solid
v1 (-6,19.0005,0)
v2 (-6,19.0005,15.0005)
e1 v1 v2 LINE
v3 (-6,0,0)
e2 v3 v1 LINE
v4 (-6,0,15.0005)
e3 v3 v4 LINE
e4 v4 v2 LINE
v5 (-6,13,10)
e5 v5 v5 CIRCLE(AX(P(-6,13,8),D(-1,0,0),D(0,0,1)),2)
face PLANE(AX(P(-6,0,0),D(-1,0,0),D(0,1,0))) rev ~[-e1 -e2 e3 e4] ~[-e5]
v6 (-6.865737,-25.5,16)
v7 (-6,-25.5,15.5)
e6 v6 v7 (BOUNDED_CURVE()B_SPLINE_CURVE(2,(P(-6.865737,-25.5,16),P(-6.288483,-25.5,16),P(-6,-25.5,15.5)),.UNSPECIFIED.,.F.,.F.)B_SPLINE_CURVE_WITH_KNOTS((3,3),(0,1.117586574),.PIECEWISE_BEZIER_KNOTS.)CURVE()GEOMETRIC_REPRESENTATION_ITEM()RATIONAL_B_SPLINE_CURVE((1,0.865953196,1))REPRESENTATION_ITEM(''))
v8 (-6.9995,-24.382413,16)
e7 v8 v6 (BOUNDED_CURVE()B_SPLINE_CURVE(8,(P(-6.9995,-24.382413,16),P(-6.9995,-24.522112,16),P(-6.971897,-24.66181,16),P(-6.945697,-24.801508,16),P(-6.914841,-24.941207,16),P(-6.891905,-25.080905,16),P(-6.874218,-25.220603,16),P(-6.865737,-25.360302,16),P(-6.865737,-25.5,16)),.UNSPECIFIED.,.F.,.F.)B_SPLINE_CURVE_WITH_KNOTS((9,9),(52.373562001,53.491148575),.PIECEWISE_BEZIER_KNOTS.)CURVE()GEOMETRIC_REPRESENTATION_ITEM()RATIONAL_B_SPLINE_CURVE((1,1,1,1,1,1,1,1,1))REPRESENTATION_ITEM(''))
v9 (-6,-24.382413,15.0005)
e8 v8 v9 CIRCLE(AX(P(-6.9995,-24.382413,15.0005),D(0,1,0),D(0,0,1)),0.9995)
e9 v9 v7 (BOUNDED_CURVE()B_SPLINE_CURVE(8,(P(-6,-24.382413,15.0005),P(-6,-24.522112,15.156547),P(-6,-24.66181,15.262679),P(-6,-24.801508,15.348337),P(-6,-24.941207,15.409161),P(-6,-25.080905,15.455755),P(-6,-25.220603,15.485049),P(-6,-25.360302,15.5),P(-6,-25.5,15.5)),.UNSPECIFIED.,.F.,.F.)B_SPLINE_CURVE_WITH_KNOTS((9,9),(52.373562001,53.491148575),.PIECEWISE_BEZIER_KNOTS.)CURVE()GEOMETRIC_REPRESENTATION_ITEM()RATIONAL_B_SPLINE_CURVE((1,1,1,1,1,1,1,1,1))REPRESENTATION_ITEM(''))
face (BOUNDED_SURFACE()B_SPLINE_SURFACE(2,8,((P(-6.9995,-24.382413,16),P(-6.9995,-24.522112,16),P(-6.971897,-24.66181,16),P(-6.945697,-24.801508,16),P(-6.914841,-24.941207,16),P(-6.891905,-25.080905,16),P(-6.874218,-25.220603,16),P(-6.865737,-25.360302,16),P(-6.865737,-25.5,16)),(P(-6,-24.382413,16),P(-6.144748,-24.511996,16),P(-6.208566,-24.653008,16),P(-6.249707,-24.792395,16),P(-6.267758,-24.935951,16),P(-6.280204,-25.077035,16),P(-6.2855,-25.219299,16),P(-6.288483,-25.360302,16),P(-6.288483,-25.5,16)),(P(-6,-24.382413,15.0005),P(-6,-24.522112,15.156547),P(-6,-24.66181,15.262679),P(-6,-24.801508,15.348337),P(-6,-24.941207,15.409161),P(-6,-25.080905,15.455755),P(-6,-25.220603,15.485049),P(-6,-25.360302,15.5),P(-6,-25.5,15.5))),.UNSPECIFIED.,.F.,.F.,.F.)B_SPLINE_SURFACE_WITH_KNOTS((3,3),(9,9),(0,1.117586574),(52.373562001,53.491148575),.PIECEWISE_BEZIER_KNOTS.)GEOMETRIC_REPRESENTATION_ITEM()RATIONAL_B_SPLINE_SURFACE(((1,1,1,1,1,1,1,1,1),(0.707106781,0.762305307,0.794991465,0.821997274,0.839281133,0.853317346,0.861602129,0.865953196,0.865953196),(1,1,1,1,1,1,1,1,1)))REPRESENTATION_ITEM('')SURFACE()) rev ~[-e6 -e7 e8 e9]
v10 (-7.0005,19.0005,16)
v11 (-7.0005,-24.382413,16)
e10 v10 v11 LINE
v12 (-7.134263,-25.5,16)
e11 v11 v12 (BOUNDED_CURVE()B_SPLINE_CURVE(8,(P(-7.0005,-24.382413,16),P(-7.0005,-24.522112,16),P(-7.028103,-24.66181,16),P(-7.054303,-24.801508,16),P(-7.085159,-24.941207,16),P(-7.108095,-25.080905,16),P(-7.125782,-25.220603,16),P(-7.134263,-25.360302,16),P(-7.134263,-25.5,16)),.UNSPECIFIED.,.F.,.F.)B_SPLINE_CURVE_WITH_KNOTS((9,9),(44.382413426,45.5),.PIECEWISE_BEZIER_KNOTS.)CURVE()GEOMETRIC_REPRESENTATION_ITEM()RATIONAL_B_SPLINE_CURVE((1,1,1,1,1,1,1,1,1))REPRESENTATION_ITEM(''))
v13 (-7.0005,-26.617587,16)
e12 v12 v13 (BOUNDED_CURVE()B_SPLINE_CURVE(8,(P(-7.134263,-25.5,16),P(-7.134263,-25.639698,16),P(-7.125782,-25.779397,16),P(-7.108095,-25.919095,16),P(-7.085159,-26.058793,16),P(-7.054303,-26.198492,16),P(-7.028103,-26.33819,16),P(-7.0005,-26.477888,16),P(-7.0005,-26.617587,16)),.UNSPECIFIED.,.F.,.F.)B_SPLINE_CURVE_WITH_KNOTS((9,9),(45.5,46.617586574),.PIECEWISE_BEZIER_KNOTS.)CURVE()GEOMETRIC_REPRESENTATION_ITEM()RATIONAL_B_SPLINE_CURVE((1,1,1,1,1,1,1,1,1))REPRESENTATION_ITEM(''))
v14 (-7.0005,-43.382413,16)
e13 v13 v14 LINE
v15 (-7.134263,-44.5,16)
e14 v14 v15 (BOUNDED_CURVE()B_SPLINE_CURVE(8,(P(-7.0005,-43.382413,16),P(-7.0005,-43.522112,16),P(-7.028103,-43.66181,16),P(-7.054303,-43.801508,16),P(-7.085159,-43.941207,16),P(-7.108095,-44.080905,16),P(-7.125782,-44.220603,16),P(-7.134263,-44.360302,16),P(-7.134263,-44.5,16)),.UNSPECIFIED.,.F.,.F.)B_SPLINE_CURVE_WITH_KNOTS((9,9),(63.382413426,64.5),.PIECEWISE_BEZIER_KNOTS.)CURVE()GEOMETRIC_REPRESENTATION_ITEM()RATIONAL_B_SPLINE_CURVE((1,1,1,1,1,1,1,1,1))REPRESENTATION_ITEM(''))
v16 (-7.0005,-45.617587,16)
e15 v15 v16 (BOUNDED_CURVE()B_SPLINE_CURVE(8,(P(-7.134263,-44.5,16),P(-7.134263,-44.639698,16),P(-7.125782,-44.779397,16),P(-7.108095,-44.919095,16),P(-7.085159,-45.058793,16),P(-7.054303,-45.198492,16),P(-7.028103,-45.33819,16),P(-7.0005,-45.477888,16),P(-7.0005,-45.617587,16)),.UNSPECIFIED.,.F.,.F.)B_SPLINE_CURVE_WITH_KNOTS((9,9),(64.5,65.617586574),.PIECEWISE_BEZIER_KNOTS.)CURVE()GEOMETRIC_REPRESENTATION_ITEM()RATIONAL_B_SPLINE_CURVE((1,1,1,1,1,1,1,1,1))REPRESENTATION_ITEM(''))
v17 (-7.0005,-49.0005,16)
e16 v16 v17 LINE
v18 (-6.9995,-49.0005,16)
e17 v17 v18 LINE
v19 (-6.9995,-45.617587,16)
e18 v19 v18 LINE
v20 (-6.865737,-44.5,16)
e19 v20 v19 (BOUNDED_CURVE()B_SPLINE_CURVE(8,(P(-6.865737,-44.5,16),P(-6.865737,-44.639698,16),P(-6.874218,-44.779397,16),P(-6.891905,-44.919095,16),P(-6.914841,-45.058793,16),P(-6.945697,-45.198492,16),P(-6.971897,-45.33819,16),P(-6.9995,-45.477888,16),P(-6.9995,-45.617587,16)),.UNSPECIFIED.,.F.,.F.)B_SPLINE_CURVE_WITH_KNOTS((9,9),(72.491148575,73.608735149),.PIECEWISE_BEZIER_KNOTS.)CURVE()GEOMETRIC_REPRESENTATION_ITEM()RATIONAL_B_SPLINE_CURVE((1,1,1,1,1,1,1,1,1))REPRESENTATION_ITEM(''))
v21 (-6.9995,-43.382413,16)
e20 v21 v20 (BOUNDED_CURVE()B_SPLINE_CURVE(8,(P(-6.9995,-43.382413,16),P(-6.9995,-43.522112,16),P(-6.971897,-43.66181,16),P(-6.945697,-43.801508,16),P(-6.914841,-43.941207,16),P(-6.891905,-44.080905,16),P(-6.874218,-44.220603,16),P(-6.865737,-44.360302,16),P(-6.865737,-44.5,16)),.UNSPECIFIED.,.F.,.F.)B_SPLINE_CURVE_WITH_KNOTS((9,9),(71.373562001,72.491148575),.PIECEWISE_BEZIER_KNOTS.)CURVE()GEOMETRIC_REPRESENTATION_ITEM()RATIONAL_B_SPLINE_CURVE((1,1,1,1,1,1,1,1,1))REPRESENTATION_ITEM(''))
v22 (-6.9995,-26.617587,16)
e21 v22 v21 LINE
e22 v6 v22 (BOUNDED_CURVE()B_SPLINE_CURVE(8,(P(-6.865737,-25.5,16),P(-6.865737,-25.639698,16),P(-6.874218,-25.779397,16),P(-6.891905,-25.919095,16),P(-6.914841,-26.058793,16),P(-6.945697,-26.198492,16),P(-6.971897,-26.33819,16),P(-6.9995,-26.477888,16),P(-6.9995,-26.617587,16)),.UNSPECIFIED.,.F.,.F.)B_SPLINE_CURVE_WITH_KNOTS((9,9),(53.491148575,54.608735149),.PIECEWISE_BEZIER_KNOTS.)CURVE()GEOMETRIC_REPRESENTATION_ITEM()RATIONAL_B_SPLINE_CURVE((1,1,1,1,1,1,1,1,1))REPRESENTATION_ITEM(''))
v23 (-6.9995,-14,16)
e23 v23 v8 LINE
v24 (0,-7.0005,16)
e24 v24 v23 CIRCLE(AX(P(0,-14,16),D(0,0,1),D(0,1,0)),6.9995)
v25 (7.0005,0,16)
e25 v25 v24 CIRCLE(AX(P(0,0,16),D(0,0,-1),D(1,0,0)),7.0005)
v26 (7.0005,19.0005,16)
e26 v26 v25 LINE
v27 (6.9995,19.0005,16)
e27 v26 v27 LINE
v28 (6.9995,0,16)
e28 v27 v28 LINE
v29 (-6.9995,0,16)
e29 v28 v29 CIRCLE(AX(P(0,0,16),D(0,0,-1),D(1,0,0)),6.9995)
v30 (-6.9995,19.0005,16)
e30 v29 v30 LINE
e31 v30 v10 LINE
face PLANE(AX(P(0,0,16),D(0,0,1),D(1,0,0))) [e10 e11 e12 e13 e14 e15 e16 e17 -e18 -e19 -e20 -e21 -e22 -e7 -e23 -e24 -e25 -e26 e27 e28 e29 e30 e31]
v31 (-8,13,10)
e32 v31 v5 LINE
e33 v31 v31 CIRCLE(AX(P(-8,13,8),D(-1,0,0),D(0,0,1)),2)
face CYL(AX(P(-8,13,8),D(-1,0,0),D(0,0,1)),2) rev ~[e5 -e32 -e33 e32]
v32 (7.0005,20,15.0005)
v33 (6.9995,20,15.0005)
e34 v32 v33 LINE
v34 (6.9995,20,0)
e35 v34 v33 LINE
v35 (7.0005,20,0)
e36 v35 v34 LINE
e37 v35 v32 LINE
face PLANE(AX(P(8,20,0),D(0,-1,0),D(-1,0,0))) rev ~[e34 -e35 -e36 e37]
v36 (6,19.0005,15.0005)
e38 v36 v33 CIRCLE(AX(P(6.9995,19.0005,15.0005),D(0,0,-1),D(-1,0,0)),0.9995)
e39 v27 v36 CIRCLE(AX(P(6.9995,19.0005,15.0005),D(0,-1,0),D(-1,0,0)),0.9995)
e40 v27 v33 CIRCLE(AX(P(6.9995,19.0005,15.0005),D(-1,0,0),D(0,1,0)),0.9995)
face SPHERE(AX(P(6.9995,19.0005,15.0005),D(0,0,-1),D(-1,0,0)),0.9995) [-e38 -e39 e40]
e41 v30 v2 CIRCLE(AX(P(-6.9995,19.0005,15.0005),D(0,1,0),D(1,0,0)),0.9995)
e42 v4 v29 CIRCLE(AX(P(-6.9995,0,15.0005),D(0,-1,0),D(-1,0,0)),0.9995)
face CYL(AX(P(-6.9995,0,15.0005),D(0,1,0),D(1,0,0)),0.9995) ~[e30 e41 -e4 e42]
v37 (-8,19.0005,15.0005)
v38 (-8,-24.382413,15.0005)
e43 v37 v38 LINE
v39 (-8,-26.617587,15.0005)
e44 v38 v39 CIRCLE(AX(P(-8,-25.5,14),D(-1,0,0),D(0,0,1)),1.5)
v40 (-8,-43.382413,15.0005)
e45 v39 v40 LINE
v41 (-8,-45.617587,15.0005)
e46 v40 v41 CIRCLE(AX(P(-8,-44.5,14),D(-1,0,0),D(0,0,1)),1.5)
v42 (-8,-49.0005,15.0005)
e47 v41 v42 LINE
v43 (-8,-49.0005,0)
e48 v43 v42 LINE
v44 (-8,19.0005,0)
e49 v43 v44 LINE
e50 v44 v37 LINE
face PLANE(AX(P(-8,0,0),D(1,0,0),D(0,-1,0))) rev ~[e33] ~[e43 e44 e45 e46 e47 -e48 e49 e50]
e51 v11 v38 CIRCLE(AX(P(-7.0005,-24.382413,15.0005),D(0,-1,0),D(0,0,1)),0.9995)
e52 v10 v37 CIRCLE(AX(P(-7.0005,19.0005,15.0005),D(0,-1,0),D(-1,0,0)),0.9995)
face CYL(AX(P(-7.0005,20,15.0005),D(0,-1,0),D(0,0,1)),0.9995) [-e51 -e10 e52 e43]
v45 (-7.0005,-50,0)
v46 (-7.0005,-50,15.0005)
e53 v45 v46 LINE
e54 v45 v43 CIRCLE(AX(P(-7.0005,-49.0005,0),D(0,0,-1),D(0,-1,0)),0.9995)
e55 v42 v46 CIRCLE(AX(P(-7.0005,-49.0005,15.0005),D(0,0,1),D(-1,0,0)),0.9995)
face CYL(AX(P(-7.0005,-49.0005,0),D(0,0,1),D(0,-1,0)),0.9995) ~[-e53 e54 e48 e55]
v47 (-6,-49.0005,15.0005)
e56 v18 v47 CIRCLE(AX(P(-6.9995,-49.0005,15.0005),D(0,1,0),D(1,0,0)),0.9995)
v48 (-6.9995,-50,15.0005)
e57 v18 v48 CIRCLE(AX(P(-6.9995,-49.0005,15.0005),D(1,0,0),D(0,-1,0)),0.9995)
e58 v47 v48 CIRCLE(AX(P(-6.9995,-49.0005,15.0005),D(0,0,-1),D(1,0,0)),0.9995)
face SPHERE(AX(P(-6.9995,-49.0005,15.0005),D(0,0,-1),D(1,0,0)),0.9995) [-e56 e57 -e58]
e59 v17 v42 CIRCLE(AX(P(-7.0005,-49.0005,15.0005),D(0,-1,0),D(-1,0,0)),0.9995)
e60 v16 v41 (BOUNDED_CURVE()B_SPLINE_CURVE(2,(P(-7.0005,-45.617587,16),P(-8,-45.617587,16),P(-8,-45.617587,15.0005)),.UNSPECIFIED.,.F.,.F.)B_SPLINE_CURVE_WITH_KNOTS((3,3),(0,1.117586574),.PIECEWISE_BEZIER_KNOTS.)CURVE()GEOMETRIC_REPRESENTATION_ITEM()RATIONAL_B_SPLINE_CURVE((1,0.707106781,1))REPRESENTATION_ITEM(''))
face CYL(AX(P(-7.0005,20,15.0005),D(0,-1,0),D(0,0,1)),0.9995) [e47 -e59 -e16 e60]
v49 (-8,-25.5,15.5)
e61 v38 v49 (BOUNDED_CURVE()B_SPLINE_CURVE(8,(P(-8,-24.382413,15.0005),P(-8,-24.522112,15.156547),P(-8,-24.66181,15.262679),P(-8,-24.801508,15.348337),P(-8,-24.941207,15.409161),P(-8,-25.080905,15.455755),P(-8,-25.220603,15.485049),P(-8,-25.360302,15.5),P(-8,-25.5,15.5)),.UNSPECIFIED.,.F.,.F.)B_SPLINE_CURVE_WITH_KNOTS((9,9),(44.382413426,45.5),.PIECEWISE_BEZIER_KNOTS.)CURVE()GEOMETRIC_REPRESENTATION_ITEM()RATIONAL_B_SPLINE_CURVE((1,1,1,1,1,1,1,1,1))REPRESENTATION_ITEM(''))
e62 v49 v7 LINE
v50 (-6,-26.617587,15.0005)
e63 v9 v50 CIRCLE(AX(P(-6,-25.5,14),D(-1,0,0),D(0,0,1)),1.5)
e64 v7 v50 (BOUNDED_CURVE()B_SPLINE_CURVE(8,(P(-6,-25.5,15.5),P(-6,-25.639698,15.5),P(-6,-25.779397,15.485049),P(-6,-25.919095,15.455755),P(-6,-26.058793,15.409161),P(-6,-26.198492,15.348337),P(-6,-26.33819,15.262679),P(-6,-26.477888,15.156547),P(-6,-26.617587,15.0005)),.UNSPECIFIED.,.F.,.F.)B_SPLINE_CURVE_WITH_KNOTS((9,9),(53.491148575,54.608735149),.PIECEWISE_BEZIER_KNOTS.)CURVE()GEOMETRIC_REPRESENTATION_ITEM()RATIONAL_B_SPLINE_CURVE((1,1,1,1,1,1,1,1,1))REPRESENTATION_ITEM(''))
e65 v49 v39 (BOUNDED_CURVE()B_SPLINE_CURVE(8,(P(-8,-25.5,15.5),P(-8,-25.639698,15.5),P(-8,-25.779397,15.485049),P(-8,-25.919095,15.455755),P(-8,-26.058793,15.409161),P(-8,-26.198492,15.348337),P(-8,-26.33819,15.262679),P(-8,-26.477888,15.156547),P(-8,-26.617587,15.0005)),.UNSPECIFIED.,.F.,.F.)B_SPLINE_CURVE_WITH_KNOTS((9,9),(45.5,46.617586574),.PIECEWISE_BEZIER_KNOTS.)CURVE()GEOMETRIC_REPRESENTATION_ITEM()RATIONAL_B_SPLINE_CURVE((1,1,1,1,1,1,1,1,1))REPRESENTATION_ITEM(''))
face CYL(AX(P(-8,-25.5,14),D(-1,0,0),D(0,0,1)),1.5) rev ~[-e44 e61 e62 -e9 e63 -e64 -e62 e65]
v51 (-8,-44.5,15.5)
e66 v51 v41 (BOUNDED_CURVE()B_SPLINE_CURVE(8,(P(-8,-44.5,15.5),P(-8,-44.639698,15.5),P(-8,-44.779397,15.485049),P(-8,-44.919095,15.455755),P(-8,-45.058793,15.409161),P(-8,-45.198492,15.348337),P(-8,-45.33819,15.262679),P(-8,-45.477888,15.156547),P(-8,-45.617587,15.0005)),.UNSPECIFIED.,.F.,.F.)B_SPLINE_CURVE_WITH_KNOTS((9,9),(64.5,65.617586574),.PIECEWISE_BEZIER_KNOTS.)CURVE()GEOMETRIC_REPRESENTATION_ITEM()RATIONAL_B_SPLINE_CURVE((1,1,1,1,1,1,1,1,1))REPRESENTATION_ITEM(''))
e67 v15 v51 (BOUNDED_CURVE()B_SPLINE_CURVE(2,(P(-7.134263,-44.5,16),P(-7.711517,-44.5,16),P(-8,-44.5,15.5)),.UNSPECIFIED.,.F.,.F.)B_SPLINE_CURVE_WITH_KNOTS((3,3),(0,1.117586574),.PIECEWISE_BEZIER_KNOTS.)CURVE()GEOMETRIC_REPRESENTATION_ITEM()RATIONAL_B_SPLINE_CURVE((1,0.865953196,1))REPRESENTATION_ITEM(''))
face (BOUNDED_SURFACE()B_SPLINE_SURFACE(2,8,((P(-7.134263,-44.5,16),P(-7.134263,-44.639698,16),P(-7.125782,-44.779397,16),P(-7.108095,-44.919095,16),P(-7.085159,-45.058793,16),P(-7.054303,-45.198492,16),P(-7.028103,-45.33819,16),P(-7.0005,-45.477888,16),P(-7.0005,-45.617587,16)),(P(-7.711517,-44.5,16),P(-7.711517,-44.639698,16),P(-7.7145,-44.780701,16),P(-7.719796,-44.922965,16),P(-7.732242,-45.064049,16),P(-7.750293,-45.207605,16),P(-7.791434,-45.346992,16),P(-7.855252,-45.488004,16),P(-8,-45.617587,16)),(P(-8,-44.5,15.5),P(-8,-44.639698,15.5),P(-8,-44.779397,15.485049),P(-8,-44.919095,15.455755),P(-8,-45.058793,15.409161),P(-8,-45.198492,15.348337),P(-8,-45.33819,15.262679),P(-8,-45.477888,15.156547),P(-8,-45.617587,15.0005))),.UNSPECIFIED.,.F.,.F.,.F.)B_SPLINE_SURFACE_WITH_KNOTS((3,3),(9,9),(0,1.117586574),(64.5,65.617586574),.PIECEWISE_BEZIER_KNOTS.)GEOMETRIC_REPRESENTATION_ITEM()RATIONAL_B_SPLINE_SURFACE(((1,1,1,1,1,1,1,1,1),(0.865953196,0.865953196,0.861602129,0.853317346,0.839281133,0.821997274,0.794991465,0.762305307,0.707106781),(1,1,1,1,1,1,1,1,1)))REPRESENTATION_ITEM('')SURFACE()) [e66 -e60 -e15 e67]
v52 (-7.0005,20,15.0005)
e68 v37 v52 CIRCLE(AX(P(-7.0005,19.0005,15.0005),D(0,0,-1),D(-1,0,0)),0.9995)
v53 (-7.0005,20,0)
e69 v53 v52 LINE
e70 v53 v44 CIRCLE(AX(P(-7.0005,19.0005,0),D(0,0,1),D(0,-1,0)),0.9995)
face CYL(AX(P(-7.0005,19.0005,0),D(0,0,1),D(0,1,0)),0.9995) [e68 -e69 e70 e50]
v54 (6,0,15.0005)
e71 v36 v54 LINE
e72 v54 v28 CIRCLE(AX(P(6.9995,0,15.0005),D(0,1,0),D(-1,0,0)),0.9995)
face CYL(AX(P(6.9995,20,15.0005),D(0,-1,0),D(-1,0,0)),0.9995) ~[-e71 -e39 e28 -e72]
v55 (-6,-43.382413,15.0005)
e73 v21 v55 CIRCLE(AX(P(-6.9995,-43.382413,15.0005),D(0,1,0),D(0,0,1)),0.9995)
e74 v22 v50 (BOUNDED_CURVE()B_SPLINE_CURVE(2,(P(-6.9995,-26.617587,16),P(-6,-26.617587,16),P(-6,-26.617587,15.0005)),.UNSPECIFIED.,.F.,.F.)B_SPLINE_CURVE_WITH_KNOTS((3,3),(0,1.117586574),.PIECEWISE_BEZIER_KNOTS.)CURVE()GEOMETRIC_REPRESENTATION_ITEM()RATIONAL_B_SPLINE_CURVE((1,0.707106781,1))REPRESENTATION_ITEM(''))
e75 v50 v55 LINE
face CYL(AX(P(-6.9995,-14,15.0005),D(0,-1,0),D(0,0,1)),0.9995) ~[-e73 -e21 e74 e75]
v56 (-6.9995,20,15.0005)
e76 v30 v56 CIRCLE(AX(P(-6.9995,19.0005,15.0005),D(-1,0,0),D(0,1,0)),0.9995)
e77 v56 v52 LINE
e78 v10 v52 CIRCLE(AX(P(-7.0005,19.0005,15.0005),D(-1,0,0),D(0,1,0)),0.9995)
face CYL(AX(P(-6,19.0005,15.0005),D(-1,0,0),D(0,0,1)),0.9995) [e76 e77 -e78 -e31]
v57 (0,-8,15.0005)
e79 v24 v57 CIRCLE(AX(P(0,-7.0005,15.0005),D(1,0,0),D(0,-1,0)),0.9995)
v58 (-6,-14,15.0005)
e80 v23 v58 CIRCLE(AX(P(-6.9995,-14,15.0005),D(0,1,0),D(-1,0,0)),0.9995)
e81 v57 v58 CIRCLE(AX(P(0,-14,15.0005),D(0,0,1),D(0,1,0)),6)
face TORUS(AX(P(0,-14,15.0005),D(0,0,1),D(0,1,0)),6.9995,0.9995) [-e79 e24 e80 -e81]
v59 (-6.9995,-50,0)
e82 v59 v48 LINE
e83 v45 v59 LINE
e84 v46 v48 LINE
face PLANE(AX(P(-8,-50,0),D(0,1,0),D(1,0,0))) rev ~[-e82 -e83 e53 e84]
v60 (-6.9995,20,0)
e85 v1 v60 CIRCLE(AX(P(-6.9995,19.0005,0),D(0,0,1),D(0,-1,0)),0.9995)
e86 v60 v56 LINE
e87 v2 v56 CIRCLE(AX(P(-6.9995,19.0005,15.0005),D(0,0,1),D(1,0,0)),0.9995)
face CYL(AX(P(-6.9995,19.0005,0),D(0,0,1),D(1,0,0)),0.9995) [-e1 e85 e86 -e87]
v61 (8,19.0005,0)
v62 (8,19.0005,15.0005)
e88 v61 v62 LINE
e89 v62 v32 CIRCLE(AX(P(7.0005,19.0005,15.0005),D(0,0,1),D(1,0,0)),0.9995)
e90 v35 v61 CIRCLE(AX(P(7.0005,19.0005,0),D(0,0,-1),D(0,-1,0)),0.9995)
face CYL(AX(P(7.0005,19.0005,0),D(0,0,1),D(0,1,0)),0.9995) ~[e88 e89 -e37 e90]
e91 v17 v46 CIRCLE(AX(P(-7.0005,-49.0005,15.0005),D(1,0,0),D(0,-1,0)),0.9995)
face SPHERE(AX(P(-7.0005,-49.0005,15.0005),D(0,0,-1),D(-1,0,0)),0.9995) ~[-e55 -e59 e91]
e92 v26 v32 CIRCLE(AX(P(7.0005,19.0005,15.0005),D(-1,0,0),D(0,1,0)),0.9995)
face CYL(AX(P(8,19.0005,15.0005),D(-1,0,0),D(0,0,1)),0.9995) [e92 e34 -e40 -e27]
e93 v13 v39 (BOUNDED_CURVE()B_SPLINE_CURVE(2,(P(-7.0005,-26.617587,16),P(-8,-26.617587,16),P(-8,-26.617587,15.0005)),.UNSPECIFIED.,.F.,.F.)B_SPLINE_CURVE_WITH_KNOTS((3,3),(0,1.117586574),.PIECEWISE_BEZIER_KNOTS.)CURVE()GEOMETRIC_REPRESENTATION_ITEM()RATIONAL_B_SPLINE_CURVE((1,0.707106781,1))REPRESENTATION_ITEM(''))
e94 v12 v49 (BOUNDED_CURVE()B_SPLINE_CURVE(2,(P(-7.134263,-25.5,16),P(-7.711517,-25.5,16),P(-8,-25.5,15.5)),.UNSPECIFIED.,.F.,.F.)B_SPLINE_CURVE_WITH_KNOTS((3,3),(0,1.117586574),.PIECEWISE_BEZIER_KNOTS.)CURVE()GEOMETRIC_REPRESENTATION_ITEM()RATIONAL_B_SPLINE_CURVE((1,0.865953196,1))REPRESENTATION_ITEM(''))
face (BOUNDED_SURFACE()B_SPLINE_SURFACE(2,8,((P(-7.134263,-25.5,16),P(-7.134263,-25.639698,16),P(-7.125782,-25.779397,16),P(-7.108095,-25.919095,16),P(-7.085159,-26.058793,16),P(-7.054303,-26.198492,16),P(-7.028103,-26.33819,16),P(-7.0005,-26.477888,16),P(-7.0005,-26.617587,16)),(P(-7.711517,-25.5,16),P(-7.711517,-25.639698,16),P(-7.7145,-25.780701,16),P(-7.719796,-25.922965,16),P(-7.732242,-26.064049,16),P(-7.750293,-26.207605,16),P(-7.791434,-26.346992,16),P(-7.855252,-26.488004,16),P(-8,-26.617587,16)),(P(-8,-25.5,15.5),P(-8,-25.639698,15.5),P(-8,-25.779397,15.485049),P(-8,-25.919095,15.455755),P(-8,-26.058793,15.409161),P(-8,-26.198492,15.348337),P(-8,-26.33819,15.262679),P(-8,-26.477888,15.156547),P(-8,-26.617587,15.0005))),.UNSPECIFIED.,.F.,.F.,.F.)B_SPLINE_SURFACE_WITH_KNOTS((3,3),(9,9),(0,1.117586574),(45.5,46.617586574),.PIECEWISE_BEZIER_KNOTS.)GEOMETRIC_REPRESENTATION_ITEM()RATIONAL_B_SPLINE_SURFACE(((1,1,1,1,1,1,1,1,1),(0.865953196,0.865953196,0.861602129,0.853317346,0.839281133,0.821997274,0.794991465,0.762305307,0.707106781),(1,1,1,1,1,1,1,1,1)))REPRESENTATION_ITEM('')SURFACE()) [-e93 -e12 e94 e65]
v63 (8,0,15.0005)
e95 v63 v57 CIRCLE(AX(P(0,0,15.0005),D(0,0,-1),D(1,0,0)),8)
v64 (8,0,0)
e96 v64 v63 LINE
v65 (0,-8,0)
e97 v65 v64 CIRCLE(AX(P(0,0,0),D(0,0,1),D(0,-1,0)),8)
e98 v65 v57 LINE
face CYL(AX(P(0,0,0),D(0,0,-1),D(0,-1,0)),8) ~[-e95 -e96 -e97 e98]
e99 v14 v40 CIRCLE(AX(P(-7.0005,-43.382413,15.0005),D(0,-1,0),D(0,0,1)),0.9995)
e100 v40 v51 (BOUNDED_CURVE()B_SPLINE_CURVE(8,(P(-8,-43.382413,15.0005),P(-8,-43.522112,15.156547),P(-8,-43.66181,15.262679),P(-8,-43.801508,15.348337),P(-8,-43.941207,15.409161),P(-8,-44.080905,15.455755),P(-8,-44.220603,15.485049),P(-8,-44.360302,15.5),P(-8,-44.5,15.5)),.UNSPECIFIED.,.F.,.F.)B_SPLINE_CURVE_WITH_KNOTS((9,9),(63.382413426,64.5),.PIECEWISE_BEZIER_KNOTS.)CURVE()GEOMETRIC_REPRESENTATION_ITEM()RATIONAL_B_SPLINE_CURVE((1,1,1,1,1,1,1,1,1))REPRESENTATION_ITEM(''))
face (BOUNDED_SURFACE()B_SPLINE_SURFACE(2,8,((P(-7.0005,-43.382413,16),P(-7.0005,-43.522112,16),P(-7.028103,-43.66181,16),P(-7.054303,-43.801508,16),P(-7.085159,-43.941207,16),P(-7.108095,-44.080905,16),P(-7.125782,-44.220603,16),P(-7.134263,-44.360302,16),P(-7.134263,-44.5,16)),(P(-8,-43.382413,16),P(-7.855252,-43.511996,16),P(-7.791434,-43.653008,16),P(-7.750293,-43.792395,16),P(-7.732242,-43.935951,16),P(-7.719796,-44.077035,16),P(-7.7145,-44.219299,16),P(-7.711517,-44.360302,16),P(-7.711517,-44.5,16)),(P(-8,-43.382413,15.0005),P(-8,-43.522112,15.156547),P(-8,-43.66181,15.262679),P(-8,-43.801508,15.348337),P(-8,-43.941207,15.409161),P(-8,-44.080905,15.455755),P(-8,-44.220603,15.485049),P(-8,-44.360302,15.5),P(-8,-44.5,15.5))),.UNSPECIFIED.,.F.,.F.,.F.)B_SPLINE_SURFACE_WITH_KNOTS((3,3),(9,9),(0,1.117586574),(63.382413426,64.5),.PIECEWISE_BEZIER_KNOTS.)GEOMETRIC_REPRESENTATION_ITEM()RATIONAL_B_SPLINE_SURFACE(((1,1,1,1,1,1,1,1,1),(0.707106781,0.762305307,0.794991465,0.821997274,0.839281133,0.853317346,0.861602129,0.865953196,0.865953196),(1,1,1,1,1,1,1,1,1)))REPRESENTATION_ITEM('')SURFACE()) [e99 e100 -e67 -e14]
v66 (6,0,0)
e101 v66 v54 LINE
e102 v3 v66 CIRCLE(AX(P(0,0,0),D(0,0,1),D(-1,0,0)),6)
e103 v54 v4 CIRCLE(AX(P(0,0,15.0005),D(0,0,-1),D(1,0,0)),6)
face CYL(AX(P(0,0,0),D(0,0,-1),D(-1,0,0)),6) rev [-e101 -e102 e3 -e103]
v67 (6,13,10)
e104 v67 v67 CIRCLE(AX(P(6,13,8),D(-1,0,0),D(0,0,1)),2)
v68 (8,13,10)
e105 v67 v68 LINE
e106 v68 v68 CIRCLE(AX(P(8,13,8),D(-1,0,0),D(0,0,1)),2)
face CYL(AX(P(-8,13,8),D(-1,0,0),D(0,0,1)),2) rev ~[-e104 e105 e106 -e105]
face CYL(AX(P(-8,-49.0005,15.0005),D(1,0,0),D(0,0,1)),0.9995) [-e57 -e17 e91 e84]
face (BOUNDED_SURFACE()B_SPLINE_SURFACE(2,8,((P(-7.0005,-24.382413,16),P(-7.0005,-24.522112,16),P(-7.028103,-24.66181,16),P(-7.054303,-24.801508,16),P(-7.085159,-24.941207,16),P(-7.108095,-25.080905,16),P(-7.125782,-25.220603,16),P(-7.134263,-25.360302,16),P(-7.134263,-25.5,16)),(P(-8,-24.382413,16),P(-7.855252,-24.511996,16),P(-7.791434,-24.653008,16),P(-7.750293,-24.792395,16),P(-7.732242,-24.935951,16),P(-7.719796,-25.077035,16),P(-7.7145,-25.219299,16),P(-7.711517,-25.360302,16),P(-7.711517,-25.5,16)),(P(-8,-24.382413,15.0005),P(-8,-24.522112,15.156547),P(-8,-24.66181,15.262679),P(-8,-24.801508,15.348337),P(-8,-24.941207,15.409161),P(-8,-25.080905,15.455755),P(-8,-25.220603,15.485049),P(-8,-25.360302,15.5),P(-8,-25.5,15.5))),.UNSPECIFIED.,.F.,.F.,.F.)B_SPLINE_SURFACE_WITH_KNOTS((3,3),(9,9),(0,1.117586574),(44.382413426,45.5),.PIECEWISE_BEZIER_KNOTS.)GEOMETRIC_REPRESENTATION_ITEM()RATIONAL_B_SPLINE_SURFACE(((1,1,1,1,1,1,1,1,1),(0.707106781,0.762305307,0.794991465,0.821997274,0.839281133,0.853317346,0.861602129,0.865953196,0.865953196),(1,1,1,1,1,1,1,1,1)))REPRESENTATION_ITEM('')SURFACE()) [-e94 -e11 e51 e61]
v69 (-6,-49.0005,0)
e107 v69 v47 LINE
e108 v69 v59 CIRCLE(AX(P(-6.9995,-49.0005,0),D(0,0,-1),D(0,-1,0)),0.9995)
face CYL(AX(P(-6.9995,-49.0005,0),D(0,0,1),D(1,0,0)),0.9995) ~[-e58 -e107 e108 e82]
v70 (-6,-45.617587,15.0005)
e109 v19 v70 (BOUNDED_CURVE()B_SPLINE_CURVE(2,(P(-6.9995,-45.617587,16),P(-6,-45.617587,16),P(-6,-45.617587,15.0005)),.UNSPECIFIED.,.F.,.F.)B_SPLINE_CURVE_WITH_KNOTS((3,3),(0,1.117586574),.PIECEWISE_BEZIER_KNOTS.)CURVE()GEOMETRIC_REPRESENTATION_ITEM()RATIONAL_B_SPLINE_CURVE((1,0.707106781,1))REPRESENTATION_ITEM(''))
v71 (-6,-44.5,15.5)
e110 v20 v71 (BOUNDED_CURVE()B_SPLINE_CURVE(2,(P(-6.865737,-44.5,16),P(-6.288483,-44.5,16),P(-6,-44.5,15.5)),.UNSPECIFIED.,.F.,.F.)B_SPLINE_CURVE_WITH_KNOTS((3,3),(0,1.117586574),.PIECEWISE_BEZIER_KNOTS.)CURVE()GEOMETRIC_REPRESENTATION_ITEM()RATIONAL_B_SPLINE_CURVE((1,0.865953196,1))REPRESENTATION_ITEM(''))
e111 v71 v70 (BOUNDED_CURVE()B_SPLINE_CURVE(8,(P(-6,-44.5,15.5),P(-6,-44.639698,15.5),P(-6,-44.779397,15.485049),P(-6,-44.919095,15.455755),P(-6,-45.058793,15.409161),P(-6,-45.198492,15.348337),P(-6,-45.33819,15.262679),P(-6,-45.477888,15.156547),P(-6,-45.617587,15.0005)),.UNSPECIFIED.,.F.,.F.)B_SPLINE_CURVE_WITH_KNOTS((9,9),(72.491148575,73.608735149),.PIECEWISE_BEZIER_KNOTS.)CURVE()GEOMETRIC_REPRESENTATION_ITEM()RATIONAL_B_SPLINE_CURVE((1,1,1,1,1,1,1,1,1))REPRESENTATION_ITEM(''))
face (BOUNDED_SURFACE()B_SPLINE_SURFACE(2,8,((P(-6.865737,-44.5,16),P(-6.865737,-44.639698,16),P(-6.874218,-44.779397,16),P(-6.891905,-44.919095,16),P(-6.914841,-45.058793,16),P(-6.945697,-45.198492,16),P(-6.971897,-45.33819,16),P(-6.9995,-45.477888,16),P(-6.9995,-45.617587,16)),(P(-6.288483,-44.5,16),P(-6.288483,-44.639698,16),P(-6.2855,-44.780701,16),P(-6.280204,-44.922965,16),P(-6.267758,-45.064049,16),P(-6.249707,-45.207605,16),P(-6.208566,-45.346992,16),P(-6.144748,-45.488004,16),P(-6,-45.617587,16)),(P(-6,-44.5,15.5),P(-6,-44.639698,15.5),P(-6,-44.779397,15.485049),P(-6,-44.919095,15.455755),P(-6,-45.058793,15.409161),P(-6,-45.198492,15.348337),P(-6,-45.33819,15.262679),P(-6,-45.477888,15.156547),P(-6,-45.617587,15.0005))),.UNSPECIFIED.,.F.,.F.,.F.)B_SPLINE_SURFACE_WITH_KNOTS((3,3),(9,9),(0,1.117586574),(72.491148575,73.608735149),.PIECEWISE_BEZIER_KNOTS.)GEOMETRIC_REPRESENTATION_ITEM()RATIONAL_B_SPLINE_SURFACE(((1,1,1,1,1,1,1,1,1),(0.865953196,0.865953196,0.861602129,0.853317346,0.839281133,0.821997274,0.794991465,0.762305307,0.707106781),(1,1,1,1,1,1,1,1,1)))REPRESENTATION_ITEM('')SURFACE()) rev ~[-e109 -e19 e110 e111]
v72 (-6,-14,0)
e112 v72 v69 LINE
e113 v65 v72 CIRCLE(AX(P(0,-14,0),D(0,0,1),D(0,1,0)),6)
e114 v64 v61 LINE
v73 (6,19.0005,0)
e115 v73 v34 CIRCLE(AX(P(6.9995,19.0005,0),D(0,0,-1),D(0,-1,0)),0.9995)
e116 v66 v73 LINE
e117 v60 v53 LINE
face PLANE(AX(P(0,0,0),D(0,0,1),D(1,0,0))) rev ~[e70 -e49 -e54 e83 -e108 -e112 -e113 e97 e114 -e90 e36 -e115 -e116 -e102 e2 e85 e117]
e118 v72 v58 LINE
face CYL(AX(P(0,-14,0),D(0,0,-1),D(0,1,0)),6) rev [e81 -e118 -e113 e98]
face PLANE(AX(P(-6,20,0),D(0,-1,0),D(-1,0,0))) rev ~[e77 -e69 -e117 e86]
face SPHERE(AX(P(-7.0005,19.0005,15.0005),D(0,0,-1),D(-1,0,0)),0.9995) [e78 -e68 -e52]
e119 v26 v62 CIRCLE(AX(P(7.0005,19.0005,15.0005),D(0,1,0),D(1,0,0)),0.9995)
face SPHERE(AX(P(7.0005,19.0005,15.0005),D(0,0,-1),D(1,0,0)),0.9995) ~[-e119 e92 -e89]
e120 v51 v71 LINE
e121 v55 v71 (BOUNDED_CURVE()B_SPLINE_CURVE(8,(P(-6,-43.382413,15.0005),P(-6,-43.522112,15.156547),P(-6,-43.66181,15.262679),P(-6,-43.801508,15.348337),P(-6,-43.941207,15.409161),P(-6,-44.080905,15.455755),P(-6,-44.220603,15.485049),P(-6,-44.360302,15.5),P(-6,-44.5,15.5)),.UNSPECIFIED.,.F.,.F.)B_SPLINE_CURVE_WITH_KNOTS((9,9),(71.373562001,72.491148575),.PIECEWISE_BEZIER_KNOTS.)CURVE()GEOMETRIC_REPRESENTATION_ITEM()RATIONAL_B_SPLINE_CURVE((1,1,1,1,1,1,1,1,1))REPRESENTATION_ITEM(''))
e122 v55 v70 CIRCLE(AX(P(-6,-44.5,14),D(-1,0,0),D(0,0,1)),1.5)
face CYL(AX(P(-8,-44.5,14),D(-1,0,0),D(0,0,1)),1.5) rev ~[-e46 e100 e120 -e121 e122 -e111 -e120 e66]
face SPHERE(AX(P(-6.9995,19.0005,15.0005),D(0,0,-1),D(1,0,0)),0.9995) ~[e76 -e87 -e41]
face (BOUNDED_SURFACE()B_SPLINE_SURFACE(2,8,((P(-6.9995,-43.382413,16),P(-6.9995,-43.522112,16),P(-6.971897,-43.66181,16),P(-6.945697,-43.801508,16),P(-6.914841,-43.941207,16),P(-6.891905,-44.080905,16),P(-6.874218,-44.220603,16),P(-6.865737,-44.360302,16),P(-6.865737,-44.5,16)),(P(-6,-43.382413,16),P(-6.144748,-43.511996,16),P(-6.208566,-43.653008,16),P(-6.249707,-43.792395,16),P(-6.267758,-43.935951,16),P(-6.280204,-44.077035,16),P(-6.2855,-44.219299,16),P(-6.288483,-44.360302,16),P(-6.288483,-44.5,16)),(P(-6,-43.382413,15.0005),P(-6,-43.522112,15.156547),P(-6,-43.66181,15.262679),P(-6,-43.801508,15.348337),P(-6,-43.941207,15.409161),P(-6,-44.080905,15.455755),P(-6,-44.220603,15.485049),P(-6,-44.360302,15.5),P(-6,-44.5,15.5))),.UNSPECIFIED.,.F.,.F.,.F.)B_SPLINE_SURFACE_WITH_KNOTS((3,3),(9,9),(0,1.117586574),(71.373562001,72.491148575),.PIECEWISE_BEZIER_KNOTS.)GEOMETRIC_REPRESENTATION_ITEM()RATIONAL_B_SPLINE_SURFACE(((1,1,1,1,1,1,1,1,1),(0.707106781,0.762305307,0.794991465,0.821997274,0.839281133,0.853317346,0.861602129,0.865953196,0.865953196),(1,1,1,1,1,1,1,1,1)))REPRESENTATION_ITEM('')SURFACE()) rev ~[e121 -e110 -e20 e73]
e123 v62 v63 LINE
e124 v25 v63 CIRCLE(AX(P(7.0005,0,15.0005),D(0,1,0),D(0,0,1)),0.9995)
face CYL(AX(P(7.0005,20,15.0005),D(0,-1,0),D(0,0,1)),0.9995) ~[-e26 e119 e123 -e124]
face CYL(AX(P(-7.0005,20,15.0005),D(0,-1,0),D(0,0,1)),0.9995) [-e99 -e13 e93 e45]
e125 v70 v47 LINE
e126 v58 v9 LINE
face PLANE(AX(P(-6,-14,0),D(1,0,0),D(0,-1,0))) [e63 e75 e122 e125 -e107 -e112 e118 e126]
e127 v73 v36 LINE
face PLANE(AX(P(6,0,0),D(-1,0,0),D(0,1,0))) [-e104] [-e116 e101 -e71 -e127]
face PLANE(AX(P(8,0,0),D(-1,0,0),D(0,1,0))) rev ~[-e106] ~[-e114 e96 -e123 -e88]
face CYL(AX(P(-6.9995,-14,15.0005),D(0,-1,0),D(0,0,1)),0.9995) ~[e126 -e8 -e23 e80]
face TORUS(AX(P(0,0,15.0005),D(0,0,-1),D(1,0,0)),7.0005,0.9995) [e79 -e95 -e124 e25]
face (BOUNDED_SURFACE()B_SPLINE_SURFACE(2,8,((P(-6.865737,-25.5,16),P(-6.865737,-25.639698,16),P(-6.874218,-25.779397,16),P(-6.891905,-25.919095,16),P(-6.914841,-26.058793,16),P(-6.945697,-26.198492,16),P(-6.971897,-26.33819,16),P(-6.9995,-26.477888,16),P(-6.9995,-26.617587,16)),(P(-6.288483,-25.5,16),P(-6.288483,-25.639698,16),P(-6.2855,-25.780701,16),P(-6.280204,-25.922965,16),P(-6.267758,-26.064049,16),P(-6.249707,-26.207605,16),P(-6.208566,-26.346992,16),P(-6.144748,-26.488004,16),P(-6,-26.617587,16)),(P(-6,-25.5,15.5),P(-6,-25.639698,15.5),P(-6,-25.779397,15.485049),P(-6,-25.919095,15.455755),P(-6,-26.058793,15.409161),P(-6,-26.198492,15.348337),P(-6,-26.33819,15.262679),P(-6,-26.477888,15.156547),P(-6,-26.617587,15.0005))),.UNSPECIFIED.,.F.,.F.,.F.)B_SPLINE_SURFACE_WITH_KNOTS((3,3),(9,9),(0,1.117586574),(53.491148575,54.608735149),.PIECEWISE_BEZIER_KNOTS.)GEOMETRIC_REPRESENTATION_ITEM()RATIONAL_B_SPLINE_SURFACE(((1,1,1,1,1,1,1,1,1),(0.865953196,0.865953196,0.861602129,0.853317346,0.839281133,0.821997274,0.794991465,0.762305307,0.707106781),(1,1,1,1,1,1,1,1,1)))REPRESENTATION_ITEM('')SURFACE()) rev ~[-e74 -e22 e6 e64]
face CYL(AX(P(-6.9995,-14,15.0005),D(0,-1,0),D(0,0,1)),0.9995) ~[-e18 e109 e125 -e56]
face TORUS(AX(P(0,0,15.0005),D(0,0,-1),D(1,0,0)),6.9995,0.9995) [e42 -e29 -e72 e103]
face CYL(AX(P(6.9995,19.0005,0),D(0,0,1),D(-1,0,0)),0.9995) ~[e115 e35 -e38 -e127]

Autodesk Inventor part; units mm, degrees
ref_plane "YZ Plane" through (0, 0, 0) normal (1, 0, 0) x (0, 1, 0)
ref_plane "XZ Plane" through (0, 0, 0) normal (0, 1, 0) x (-1, 0, 0)
ref_plane "XY Plane" through (0, 0, 0) normal (0, 0, 1) x (1, 0, 0)
sketch "Sketch1" plane through (0, 0, 0) normal (0, 0, 1) x (1, 0, 0)
  arc A0 (-6, 0) -> (6, 0) centre (0, 0) ccw
  arc A1 (0, -8) -> (8, 0) centre (0, 0) ccw
  line L0 (-6, -14) -> (-6, -50)
  line L1 (-8, 0) -> (-8, -50)
  line L2 (-6, 0) -> (-6, 20)
  line L3 (-8, 0) -> (-8, 20)
  line L4 (6, 0) -> (6, 20)
  line L5 (8, 0) -> (8, 20)
  line L6 (-8, -50) -> (-6, -50)
  line L7 (26.4346, -8) -> (-30.23, -8) construction
  arc A2 (0, -8) -> (-6, -14) centre (0, -14) ccw
  line L8 (8, 20) -> (6, 20)
  line L9 (-6, 20) -> (-8, 20)
  arc A3 (6, 0) -> (-6, 0) centre (0, 0) ccw construction
  dimension "d0" = 12
  dimension "d1" = 2
  dimension "d2" = 42
  dimension "d3" = 20
  dimension "d4" = 20
extrude "Højde" add sketch "Sketch1" along normal blind 16
sketch "Sketch3" plane through (-8, -50, 0) normal (-1, 0, 0) x (0, 0, 1)
  line L0 (0, 0) -> (0, 70) projected
  line L1 (0, 0) -> (16, 0) projected
  line L2 (16, 70) -> (16, 0) projected
  line L3 (0, 70) -> (16, 70) projected
  line L4 (0, 42) -> (16, 42) projected
  circle A0 centre (14, 24.5) radius 1.5
  circle A1 centre (14, 5.5) radius 1.5
  line L5 (18.141, 23) -> (9.2635, 23) construction
  line L6 (18.6037, 7) -> (9.7262, 7) construction
  line L7 (14, 3.0673) -> (14, 29.9023) construction
  line L8 (17.9327, 26) -> (8.2455, 26) construction
  line L9 (10.6205, 4) -> (2.6453, 4) construction
  circle A2 centre (8, 63) radius 2
  line L10 (16, 54) -> (0, 54) construction
  point P0 (0, 50)
  dimension "d7" = 3
  dimension "d8" = 3
  dimension "d9" = 16
  dimension "d10" = 22
  dimension "d11" = 4
  dimension "d12" = 16
  dimension "d13" = 14
  dimension "d14" = 4
  dimension "d15" = 7
  dimension "d16" = 8
  dimension "d17" = 12
extrude "Monteringshuller" cut sketch "Sketch3" against normal up to surface (16 mm away) contours A0 | A1 | A2
fillet "Fillet1" radius 1 17 edges at (8, 20, 8) (6, 20, 8) (-6, 20, 8) (-8, 20, 8) (-6, -50, 8) (-8, -50, 8) (-4.2426, -9.7574, 16) (5.6569, -5.6569, 16) (8, 10, 16) (-6, -32, 16) (-6, 10, 16) (6, 10, 16) (0, -6, 16) (-8, -15, 16) (-7, -50, 16) (7, 20, 16) (-7, 20, 16)
equation "\"d4\" = d3"
equation "\"d8\" = d7"
equation "\"d16\" = 0.5 * d12"
properties part number "Ø12-Z Endstop Holder"
